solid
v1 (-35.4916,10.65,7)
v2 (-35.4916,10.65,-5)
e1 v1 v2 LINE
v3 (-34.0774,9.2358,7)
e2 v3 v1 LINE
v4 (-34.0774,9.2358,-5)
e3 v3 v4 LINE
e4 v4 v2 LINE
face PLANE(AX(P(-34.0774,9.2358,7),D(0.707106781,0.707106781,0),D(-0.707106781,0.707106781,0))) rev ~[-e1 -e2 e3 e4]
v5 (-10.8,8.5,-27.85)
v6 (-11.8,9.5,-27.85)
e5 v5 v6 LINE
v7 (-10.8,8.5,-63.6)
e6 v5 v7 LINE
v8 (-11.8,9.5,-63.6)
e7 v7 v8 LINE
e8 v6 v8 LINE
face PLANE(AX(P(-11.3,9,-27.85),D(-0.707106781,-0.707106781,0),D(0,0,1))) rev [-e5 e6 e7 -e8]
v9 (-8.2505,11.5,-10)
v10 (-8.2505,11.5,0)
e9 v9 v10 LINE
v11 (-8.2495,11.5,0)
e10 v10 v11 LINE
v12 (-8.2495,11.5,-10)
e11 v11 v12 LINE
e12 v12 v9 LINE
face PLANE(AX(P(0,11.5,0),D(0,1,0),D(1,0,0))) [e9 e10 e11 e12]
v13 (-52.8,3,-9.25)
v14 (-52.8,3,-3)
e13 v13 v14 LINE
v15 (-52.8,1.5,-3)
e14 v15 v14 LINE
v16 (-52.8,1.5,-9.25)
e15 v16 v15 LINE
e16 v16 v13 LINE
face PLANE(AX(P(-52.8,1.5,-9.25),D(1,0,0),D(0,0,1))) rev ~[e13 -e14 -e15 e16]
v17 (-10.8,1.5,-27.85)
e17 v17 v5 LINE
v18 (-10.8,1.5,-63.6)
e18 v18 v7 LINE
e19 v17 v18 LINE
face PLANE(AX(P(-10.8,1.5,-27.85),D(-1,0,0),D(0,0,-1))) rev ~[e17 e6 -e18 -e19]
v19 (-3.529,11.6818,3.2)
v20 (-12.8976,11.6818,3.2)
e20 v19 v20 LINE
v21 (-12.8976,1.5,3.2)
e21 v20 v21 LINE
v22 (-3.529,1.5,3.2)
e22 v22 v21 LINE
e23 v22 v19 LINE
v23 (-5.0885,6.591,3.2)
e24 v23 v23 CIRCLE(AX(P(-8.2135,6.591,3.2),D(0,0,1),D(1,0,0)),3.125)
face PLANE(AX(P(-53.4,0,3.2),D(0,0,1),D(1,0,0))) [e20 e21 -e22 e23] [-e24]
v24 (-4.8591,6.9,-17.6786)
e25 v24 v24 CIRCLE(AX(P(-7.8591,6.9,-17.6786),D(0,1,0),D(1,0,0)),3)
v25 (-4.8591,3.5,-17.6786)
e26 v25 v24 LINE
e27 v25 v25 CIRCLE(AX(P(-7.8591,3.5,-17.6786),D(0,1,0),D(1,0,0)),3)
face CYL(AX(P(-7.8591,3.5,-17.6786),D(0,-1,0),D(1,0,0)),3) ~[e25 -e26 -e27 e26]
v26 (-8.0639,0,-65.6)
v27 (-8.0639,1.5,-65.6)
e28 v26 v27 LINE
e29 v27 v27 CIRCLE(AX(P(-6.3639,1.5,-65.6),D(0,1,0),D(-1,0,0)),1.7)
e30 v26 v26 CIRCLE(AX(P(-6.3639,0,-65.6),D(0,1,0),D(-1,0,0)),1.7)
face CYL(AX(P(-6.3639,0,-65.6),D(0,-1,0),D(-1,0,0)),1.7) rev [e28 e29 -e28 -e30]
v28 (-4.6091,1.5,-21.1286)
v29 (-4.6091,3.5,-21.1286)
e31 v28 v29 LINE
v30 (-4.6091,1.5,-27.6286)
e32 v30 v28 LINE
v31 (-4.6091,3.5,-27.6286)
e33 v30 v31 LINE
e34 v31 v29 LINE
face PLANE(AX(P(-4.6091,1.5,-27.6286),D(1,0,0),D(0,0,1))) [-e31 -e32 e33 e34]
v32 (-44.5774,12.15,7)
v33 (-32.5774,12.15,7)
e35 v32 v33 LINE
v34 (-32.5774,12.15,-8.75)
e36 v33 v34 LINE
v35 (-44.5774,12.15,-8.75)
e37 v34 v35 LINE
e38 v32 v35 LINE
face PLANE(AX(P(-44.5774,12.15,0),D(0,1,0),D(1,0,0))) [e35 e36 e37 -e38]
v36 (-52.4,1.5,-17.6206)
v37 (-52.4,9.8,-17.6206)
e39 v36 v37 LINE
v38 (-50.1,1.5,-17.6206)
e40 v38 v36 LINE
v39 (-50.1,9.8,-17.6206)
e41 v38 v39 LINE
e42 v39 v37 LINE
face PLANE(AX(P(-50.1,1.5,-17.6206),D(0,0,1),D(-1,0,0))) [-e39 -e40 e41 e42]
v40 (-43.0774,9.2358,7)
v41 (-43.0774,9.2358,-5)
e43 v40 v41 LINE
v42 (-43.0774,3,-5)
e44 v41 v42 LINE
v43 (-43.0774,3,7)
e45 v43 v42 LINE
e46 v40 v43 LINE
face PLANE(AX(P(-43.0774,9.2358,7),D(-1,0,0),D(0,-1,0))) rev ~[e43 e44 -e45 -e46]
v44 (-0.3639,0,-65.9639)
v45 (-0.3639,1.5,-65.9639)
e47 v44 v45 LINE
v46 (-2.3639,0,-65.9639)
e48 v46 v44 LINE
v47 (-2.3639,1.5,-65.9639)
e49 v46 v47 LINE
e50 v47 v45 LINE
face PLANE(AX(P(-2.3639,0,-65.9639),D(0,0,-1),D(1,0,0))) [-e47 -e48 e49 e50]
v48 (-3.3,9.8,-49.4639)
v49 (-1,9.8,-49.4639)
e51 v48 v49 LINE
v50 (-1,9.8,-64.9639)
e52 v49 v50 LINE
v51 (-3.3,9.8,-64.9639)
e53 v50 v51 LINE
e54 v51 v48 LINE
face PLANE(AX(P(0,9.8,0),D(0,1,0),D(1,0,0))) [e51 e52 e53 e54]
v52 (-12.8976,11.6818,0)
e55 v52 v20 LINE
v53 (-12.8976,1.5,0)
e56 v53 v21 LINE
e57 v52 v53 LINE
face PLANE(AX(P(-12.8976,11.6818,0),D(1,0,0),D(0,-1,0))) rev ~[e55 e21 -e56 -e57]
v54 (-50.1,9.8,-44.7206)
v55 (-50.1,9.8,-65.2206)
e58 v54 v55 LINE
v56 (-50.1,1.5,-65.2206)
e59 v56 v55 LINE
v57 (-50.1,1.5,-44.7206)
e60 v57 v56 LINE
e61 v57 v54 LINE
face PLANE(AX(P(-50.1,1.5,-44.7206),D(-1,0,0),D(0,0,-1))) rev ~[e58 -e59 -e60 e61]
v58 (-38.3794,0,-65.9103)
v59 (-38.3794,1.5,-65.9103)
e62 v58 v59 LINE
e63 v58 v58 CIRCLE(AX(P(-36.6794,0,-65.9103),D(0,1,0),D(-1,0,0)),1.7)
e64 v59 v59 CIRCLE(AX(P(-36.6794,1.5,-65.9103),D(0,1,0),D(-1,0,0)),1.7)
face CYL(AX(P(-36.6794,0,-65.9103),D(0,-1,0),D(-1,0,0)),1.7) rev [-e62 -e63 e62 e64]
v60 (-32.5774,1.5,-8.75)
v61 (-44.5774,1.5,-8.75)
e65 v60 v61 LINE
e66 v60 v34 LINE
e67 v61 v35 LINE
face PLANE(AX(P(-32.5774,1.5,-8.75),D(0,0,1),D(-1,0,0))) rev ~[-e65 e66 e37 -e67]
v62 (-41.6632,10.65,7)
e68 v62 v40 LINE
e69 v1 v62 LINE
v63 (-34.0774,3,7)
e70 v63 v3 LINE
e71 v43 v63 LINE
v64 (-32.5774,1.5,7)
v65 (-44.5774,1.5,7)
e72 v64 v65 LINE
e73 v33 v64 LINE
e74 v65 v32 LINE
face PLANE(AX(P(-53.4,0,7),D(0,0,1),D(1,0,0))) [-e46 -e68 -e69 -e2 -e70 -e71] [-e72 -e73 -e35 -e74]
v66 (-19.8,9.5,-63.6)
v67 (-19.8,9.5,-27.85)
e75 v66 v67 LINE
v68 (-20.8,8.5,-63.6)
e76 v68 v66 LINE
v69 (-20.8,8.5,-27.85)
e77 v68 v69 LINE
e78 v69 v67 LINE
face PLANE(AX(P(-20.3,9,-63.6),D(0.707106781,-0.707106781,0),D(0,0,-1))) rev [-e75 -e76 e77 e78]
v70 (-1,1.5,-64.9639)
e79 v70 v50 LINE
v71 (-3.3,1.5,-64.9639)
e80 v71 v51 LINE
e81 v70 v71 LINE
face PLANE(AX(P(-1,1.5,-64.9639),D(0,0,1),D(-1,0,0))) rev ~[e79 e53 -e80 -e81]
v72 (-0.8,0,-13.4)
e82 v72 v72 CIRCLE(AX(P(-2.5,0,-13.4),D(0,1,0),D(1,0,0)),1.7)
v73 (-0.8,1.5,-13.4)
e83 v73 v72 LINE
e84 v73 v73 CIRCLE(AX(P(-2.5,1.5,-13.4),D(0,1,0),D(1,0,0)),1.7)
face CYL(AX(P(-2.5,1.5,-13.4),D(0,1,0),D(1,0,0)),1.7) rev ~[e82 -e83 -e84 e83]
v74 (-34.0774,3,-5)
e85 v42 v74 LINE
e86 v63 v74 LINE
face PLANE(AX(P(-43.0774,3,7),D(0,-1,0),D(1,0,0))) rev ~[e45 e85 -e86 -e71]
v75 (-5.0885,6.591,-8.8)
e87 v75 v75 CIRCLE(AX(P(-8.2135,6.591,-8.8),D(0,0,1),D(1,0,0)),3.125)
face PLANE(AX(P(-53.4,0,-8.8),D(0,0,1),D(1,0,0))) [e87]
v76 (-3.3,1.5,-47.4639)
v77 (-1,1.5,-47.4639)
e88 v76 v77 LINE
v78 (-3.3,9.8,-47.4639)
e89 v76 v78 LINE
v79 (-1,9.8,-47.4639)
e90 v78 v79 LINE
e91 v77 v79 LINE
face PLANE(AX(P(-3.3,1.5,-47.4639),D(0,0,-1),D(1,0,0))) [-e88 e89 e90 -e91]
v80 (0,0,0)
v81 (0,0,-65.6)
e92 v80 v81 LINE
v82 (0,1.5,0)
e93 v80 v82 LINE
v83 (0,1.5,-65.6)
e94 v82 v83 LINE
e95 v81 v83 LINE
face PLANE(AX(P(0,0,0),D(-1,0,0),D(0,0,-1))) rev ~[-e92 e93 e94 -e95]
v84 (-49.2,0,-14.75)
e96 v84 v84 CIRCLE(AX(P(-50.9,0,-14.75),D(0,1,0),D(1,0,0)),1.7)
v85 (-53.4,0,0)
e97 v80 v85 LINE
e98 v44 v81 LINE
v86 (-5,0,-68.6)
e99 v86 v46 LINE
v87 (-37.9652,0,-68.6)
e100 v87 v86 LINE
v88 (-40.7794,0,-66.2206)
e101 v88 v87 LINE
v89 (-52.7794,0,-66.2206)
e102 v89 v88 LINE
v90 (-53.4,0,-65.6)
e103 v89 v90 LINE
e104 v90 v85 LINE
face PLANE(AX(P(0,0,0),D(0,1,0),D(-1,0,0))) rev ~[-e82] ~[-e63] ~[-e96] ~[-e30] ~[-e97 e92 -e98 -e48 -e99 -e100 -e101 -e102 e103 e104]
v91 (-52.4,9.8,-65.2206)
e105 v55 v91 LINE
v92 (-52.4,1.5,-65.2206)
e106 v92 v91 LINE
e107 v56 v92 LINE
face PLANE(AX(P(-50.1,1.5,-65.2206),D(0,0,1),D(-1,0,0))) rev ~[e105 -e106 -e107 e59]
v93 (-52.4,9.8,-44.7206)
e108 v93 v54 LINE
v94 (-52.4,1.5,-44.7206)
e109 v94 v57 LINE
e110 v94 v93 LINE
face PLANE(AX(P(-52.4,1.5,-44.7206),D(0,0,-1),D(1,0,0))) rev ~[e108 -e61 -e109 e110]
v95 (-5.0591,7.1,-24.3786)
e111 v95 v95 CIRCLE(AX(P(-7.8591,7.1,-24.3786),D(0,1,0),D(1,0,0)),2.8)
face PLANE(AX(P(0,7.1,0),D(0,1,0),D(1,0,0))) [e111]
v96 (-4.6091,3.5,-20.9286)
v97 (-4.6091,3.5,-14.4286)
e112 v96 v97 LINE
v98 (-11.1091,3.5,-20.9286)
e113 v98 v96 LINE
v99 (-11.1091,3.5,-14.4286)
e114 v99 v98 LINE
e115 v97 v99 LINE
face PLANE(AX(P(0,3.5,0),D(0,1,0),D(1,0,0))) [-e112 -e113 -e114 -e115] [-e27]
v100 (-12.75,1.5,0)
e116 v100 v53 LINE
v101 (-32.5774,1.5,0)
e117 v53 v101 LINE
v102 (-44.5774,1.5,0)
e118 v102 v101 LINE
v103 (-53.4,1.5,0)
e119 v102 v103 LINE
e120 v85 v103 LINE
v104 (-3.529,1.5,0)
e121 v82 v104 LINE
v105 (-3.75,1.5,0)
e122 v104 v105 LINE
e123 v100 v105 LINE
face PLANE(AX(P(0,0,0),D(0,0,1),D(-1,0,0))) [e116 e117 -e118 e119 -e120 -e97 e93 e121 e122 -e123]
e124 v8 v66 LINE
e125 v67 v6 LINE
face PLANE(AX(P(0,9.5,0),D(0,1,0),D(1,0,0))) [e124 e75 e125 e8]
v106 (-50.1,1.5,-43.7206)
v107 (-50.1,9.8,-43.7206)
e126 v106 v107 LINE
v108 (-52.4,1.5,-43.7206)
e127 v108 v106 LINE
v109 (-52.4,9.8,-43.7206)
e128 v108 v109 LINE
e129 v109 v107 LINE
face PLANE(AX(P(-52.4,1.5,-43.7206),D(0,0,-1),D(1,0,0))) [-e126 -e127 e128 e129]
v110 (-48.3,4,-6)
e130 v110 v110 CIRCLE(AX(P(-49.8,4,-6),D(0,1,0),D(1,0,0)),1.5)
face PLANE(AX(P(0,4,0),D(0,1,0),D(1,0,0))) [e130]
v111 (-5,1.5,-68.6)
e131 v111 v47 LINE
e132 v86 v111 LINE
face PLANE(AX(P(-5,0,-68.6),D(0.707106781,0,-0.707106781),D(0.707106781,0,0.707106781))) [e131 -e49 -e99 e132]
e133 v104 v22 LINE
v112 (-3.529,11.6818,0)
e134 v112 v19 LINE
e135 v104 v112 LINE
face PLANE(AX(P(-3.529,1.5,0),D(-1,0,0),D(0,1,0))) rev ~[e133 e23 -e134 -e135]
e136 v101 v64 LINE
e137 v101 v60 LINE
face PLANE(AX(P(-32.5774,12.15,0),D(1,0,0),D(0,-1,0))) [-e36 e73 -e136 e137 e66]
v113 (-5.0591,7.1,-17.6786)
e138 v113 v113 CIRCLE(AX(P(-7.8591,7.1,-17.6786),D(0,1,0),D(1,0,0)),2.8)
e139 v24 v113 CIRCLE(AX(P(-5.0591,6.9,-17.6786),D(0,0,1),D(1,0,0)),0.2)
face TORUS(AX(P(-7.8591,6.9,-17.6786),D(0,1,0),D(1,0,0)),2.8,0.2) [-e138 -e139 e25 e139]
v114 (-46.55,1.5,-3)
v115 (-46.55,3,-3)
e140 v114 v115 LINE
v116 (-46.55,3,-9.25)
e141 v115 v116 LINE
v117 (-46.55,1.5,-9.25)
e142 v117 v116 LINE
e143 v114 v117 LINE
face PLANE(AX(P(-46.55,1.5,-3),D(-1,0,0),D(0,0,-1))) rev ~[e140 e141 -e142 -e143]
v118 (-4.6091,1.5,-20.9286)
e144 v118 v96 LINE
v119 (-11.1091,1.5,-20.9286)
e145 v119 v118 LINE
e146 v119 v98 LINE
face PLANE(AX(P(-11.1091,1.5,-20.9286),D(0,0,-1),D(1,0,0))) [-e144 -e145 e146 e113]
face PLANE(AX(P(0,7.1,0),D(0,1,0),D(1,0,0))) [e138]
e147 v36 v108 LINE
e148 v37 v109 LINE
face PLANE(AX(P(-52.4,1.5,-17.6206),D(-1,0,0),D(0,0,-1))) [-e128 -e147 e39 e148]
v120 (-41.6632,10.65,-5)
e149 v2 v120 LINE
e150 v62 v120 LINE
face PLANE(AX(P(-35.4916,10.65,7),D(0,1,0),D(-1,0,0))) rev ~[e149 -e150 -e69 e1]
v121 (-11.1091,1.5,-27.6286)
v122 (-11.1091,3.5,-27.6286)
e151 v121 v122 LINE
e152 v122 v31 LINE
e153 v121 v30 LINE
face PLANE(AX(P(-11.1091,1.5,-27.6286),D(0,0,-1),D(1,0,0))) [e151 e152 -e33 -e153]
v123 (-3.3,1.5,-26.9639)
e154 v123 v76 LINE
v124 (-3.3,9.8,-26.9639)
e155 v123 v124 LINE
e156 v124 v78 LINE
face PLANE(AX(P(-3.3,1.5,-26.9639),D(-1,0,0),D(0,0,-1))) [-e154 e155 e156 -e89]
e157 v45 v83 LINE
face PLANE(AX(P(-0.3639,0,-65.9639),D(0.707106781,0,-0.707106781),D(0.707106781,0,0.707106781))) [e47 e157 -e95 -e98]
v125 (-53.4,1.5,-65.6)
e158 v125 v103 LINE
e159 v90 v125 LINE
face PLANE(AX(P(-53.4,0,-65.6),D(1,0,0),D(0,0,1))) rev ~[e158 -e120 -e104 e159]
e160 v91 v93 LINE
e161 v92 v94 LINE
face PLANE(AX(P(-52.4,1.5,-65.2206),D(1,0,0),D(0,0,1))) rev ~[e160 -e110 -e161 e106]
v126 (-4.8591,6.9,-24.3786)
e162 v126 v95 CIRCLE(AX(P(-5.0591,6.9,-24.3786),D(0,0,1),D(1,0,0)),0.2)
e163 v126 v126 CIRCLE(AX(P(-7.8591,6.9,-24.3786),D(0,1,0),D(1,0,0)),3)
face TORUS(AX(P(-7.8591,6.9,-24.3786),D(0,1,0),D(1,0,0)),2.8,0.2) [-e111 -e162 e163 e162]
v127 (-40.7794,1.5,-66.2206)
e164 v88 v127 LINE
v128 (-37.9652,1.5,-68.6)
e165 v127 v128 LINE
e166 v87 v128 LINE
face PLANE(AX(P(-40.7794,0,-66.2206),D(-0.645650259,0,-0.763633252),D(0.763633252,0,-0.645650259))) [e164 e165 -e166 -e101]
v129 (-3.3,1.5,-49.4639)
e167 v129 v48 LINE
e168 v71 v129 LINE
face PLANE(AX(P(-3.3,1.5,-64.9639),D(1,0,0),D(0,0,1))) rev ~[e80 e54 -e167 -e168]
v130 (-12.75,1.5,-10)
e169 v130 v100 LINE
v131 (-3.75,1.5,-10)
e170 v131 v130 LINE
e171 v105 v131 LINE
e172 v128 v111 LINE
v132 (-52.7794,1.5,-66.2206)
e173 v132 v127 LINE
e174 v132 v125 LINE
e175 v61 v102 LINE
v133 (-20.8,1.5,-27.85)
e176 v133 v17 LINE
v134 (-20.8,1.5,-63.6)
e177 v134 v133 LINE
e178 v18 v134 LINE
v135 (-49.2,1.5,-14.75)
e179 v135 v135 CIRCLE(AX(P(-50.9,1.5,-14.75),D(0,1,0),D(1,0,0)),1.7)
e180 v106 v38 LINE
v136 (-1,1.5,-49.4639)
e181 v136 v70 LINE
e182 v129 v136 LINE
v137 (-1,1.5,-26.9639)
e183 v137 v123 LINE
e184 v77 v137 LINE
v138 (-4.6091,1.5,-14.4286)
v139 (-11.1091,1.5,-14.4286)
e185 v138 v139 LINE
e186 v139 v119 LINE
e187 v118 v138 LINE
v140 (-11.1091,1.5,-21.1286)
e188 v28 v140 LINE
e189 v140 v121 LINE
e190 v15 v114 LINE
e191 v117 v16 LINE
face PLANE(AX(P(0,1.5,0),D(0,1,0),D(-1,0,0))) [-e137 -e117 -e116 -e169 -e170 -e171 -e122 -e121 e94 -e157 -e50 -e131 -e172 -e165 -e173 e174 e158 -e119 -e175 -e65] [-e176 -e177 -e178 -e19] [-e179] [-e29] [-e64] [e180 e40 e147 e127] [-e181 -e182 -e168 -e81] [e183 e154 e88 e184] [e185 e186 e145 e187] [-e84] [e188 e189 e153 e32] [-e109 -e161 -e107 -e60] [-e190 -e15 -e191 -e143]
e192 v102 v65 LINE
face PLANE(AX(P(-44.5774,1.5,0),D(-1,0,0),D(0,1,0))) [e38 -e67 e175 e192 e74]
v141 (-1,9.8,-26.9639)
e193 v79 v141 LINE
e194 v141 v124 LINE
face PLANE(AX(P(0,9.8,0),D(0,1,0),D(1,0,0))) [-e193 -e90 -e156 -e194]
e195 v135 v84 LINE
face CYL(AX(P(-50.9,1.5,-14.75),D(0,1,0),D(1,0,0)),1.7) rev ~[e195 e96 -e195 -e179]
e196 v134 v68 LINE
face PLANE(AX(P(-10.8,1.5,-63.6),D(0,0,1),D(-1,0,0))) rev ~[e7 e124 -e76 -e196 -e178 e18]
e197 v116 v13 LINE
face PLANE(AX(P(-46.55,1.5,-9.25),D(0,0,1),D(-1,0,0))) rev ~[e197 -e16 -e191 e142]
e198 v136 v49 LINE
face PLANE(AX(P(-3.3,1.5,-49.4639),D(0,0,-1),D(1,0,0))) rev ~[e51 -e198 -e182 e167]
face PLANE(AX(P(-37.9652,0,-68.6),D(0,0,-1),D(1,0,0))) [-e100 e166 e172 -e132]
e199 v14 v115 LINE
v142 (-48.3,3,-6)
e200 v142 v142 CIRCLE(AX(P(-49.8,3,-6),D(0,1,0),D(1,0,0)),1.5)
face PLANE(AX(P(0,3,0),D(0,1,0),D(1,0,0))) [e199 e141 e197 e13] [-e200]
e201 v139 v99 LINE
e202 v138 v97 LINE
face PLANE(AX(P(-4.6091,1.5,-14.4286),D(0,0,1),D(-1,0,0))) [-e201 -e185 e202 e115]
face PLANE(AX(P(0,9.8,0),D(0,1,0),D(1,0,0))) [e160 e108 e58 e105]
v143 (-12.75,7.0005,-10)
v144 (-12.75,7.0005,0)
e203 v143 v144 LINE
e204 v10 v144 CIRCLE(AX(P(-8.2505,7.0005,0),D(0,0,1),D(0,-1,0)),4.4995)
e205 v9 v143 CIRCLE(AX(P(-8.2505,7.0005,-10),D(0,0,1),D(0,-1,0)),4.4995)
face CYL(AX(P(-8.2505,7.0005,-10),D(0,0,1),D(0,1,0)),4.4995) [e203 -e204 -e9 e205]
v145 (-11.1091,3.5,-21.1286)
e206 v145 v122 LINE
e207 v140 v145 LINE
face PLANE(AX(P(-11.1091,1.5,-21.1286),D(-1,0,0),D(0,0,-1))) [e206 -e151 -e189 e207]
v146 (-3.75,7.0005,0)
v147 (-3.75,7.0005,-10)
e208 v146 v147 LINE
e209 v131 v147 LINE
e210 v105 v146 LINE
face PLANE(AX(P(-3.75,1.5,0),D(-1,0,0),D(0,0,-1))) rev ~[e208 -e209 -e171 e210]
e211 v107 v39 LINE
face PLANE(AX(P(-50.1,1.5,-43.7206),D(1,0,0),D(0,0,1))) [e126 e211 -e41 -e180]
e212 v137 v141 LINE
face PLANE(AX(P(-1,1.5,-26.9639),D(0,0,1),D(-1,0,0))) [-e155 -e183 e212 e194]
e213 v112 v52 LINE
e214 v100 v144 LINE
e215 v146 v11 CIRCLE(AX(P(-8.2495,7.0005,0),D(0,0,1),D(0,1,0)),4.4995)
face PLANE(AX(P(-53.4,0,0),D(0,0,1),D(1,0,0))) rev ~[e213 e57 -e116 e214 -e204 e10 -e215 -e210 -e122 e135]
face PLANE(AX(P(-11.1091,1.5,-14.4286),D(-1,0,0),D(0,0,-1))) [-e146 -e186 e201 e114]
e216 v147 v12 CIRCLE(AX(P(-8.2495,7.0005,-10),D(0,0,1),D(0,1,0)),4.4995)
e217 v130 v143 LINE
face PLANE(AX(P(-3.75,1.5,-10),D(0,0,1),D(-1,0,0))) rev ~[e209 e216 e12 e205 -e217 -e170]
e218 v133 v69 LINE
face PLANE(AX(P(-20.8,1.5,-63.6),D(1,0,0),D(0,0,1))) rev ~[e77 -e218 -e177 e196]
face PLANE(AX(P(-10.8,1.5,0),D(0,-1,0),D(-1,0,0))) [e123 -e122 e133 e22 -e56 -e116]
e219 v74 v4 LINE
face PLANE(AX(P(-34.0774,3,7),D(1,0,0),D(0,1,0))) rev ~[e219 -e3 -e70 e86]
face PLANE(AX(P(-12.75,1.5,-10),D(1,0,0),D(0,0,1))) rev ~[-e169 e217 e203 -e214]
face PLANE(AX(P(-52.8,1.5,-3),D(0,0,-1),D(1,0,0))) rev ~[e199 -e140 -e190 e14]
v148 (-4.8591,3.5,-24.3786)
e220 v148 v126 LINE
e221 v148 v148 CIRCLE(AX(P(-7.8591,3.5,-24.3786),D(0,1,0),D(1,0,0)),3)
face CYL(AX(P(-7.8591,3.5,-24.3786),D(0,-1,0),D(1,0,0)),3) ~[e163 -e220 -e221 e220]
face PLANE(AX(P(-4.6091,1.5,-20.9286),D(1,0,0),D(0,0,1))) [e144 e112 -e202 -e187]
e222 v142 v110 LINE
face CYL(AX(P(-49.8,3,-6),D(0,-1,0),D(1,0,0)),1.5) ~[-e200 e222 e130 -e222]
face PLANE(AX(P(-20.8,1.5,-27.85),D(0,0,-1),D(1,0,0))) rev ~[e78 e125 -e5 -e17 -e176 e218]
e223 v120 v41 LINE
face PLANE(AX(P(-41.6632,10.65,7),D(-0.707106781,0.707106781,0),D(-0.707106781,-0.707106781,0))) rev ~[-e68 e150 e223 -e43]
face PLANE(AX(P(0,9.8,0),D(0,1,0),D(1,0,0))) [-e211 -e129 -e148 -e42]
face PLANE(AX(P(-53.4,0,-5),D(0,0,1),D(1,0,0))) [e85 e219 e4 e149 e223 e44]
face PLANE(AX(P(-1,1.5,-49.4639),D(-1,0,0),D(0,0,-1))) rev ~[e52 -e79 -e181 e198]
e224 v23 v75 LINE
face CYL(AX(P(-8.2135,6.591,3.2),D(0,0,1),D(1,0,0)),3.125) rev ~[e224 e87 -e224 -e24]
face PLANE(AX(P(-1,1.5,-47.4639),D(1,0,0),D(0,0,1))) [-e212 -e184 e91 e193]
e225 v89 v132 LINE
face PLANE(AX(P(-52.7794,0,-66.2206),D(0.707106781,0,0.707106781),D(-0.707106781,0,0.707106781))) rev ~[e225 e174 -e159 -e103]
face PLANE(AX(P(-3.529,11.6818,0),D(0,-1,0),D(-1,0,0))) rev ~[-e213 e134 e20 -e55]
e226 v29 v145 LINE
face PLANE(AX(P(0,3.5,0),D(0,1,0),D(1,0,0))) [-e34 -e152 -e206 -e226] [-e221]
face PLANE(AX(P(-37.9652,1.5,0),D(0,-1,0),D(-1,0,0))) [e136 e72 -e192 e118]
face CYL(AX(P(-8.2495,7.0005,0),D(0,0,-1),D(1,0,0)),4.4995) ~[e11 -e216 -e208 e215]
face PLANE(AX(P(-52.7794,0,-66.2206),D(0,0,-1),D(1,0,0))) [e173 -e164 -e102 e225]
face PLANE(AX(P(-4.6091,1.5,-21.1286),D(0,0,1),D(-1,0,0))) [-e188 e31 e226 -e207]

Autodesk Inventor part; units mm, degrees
ref_plane "YZ Plane" through (0, 0, 0) normal (1, 0, 0) x (0, 1, 0)
ref_plane "XZ Plane" through (0, 0, 0) normal (0, 1, 0) x (-1, 0, 0)
ref_plane "XY Plane" through (0, 0, 0) normal (0, 0, 1) x (1, 0, 0)
sketch "Sketch1" plane through (0, 0, 0) normal (0, 1, 0) x (-1, 0, 0)
  line L0 (0, 0) -> (53.4, 0)
  line L1 (5, -68.6) -> (2.3639, -65.9639)
  line L2 (5, -68.6) -> (8.728, -68.6) construction
  line L3 (2.3639, -65.9639) -> (0.3639, -65.9639)
  line L4 (0.3639, -65.9639) -> (0, -65.6)
  line L5 (52.7794, -66.2206) -> (53.4, -65.6)
  line L6 (52.7794, -66.2206) -> (40.7794, -66.2206)
  line L7 (40.7794, -66.2206) -> (37.9652, -68.6)
  line L8 (37.9652, -68.6) -> (5, -68.6)
  line L9 (53.4, -65.6) -> (53.4, 0)
  line L10 (0, 0) -> (0, -65.6)
  circle A0 centre (36.6794, -65.9103) radius 1.7
  circle A1 centre (6.3639, -65.6) radius 1.7
  dimension "d2" = 135
  dimension "d3" = 135
  dimension "d10" = 12
  dimension "d12" = 135
  dimension "d13" = 3.4
  dimension "d14" = 3.4
  dimension "d15" = 4.1
  dimension "d16" = 4
extrude "Extrusion1" add sketch "Sketch1" along normal blind 1.5
sketch "Sketch2" plane through (0, 1.5, 0) normal (0, 1, 0) x (1, 0, 0)
  circle A0 centre (-50.9, 14.75) radius 1.7
  line L0 (-53.4, 0) -> (0, 0) projected
  line L1 (-53.4, 65.6) -> (-53.4, 0) projected
  circle A1 centre (-2.5, 13.4) radius 1.7
  line L2 (0, 0) -> (0, 65.6) projected
  dimension "d19" = 3.4
  dimension "d20" = 14.75
  dimension "d21" = 2.5
  dimension "d22" = 3.4
  dimension "d23" = 13.4
  dimension "d24" = 2.5
extrude "Extrusion2" cut sketch "Sketch2" against normal blind 1.5
sketch "Sketch3" plane through (0, 1.5, 0) normal (0, 1, 0) x (1, 0, 0)
  line L0 (-1, 64.9639) -> (-3.3, 64.9639)
  line L1 (-3.3, 64.9639) -> (-3.3, 49.4639)
  line L2 (-3.3, 49.4639) -> (-1, 49.4639)
  line L3 (-1, 49.4639) -> (-1, 64.9639)
  line L4 (-0.3639, 65.9639) -> (-2.3639, 65.9639) projected
  line L5 (0, 0) -> (0, 65.6) projected
  line L6 (-3.3, 47.4639) -> (-1, 47.4639)
  line L7 (-1, 47.4639) -> (-1, 26.9639)
  line L8 (-1, 26.9639) -> (-3.3, 26.9639)
  line L9 (-3.3, 26.9639) -> (-3.3, 47.4639)
  line L10 (-52.4, 44.7206) -> (-50.1, 44.7206)
  line L11 (-50.1, 44.7206) -> (-50.1, 65.2206)
  line L12 (-50.1, 65.2206) -> (-52.4, 65.2206)
  line L13 (-52.4, 65.2206) -> (-52.4, 44.7206)
  line L14 (-53.4, 65.6) -> (-53.4, 0) projected
  line L15 (-40.7794, 66.2206) -> (-52.7794, 66.2206) projected
  line L16 (-52.4, 43.7206) -> (-50.1, 43.7206)
  line L17 (-50.1, 43.7206) -> (-50.1, 17.6206)
  line L18 (-50.1, 17.6206) -> (-52.4, 17.6206)
  line L19 (-52.4, 17.6206) -> (-52.4, 43.7206)
  dimension "d27" = 1
  dimension "d28" = 15.5
  dimension "d29" = 2.3
  dimension "d30" = 1
  dimension "d31" = 2
  dimension "d32" = 2.3
  dimension "d33" = 20.5
  dimension "d34" = 1
  dimension "d35" = 1
  dimension "d36" = 2.3
  dimension "d37" = 20.5
  dimension "d38" = 26.1
  dimension "d39" = 1
extrude "Extrusion3" add sketch "Sketch3" along normal blind 8.3
sketch "Sketch4" plane through (0, 1.5, 0) normal (0, 1, 0) x (1, 0, 0)
  line L0 (-20.8, 27.85) -> (-10.8, 27.85)
  line L1 (-10.8, 27.85) -> (-10.8, 63.6)
  line L2 (-10.8, 63.6) -> (-20.8, 63.6)
  line L3 (-20.8, 63.6) -> (-20.8, 27.85)
  line L4 (-3.3, 47.4639) -> (-3.3, 26.9639) projected
  line L5 (-5, 68.6) -> (-37.9652, 68.6) projected
  point P0 (0, 0)
  dimension "d42" = 10
  dimension "d43" = 35.75
  dimension "d44" = 7.5
  dimension "d45" = 5
extrude "Extrusion4" add sketch "Sketch4" along normal blind 8
chamfer "Chamfer1" distance 1 angle 45 2 edges at (-20.8, 9.5, -45.725) (-10.8, 9.5, -45.725)
sketch "Sketch5" plane through (0, 1.5, 0) normal (0, 1, 0) x (1, 0, 0)
  line L0 (-4.6091, 14.4286) -> (-11.1091, 14.4286)
  line L1 (-11.1091, 14.4286) -> (-11.1091, 20.9286)
  line L2 (-11.1091, 20.9286) -> (-4.6091, 20.9286)
  line L3 (-4.6091, 20.9286) -> (-4.6091, 14.4286)
  line L4 (-4.6091, 21.1286) -> (-11.1091, 21.1286)
  line L5 (-11.1091, 21.1286) -> (-11.1091, 27.6286)
  line L6 (-11.1091, 27.6286) -> (-4.6091, 27.6286)
  line L7 (-4.6091, 27.6286) -> (-4.6091, 21.1286)
  point P0 (0, 0)
  dimension "d51" = 6.5
  dimension "d52" = 6.5
  dimension "d53" = 6.5
  dimension "d54" = 0.2
extrude "Extrusion5" add sketch "Sketch5" along normal blind 2
sketch "Sketch6" plane through (0, 3.5, 0) normal (0, 1, 0) x (1, 0, 0)
  circle A0 centre (-7.8591, 17.6786) radius 3
  line L0 (-4.6091, 20.9286) -> (-11.1091, 20.9286) projected
  line L1 (-4.6091, 14.4286) -> (-4.6091, 20.9286) projected
  point P0 (0, 0)
  dimension "d57" = 6
  dimension "d58" = 3.25
  dimension "d59" = 3.25
extrude "Extrusion6" add sketch "Sketch6" along normal blind 3.6
sketch "Sketch7" plane through (0, 3.5, 0) normal (0, 1, 0) x (1, 0, 0)
  circle A0 centre (-7.8591, 24.3786) radius 3
  line L0 (-11.1091, 21.1286) -> (-4.6091, 21.1286) projected
  line L1 (-11.1091, 27.6286) -> (-11.1091, 21.1286) projected
  point P0 (0, 0)
  dimension "d62" = 6
  dimension "d63" = 3.25
  dimension "d64" = 3.25
extrude "Extrusion7" add sketch "Sketch7" along normal blind 3.6
fillet "Fillet1" radius 0.2 2 edges at (-10.8591, 7.1, -17.6786) (-10.8591, 7.1, -24.3786)
sketch "Sketch8" plane through (0, 1.5, 0) normal (0, 1, 0) x (1, 0, 0)
  line L0 (-52.8, 3) -> (-46.55, 3)
  line L1 (-46.55, 3) -> (-46.55, 9.25)
  line L2 (-46.55, 9.25) -> (-52.8, 9.25)
  line L3 (-52.8, 9.25) -> (-52.8, 3)
  line L4 (-53.4, 65.6) -> (-53.4, 0) projected
  line L5 (-53.4, 0) -> (0, 0) projected
  dimension "d68" = 6.25
  dimension "d69" = 6.25
  dimension "d70" = 0.6
  dimension "d71" = 3
extrude "Extrusion8" add sketch "Sketch8" along normal blind 1.5
sketch "Sketch9" plane through (0, 3, 0) normal (0, 1, 0) x (1, 0, 0)
  circle A0 centre (-49.8, 6) radius 1.5
  line L0 (-46.55, 9.25) -> (-52.8, 9.25) projected
  line L1 (-46.55, 3) -> (-46.55, 9.25) projected
  point P0 (0, 0)
  dimension "d74" = 3
  dimension "d75" = 3.25
  dimension "d76" = 3.25
extrude "Extrusion9" add sketch "Sketch9" along normal blind 1
sketch "Sketch10" plane through (0, 1.5, 0) normal (0, 1, 0) x (1, 0, 0)
  line L0 (-12.75, 0) -> (-3.75, 0)
  line L1 (-3.75, 0) -> (-3.75, 10)
  line L2 (-3.75, 10) -> (-12.75, 10)
  line L3 (-12.75, 10) -> (-12.75, 0)
  line L4 (0, 0) -> (0, 65.6) projected
  dimension "d79" = 9
  dimension "d80" = 10
  dimension "d81" = 3.75
extrude "Extrusion10" add sketch "Sketch10" along normal blind 10
sketch "Sketch11" plane through (-53.4, 0, 0) normal (0, 0, 1) x (1, 0, 0)
  line L0 (42.6, 1.5) -> (32.6, 1.5) projected
  line L1 (40.5024, 1.5) -> (49.871, 1.5)
  line L2 (49.871, 1.5) -> (49.871, 11.6818)
  line L3 (49.871, 11.6818) -> (40.5024, 11.6818)
  line L4 (40.5024, 11.6818) -> (40.5024, 1.5)
  point P0 (53.4, 0)
extrude "Extrusion11" add sketch "Sketch11" along normal blind 3.2
fillet "Fillet2" radius 4.5 2 edges at (-3.75, 11.5, -5) (-12.75, 11.5, -5)
sketch "Sketch12" plane through (-53.4, 0, 3.2) normal (0, 0, 1) x (1, 0, 0)
  circle A0 centre (45.1865, 6.591) radius 3.125
  line L0 (40.5024, 1.5) -> (49.871, 1.5) projected
  line L1 (49.871, 1.5) -> (49.871, 11.6818) projected
  point P0 (53.4, 0)
  dimension "d87" = 6.25
  dimension "d88" = 5.091
  dimension "d89" = 4.6845
extrude "Extrusion12" cut sketch "Sketch12" against normal blind 12
sketch "Sketch13" plane through (0, 1.5, 0) normal (0, 1, 0) x (1, 0, 0)
  line L0 (-44.5774, 0) -> (-32.5774, 0)
  line L1 (-32.5774, 0) -> (-32.5774, 8.75)
  line L2 (-32.5774, 8.75) -> (-44.5774, 8.75)
  line L3 (-44.5774, 8.75) -> (-44.5774, 0)
  point P0 (0, 0)
  dimension "d92" = 12
  dimension "d93" = 8.75
extrude "Extrusion13" add sketch "Sketch13" along normal blind 10.65
sketch "Sketch14" plane through (-53.4, 0, 0) normal (0, 0, 1) x (1, 0, 0)
  line L0 (8.8226, 1.5) -> (8.8226, 12.15) projected
  line L1 (48.4, 1.5) -> (15.4348, 1.5) projected
  line L2 (8.8226, 12.15) -> (20.8226, 12.15)
  line L3 (20.8226, 12.15) -> (20.8226, 1.5)
  line L4 (20.8226, 1.5) -> (8.8226, 1.5)
  line L5 (8.8226, 1.5) -> (8.8226, 12.15)
  point P0 (53.4, 0)
extrude "Extrusion14" add sketch "Sketch14" along normal blind 7
sketch "Sketch15" plane through (-53.4, 0, 7) normal (0, 0, 1) x (1, 0, 0)
  line L0 (19.3226, 3) -> (19.3226, 9.2358)
  line L1 (19.3226, 9.2358) -> (17.9084, 10.65)
  line L2 (17.9084, 10.65) -> (11.7368, 10.65)
  line L3 (11.7368, 10.65) -> (10.3226, 9.2358)
  line L4 (10.3226, 9.2358) -> (10.3226, 3)
  line L5 (10.3226, 3) -> (19.3226, 3)
  line L6 (20.8226, 1.5) -> (20.8226, 12.15) projected
  line L7 (8.8226, 12.15) -> (8.8226, 1.5) projected
  line L8 (20.8226, 12.15) -> (8.8226, 12.15) projected
  line L9 (8.8226, 1.5) -> (20.8226, 1.5) projected
  point P0 (53.4, 0)
  dimension "d98" = 2
  dimension "d99" = 135
  dimension "d100" = 2
  dimension "d101" = 135
  dimension "d102" = 1.5
  dimension "d103" = 1.5
  dimension "d104" = 1.5
  dimension "d105" = 1.5
extrude "Extrusion15" cut sketch "Sketch15" against normal blind 12 contours L5 L4 L3 L2 L1 L0
properties part number "arduinoUno"
